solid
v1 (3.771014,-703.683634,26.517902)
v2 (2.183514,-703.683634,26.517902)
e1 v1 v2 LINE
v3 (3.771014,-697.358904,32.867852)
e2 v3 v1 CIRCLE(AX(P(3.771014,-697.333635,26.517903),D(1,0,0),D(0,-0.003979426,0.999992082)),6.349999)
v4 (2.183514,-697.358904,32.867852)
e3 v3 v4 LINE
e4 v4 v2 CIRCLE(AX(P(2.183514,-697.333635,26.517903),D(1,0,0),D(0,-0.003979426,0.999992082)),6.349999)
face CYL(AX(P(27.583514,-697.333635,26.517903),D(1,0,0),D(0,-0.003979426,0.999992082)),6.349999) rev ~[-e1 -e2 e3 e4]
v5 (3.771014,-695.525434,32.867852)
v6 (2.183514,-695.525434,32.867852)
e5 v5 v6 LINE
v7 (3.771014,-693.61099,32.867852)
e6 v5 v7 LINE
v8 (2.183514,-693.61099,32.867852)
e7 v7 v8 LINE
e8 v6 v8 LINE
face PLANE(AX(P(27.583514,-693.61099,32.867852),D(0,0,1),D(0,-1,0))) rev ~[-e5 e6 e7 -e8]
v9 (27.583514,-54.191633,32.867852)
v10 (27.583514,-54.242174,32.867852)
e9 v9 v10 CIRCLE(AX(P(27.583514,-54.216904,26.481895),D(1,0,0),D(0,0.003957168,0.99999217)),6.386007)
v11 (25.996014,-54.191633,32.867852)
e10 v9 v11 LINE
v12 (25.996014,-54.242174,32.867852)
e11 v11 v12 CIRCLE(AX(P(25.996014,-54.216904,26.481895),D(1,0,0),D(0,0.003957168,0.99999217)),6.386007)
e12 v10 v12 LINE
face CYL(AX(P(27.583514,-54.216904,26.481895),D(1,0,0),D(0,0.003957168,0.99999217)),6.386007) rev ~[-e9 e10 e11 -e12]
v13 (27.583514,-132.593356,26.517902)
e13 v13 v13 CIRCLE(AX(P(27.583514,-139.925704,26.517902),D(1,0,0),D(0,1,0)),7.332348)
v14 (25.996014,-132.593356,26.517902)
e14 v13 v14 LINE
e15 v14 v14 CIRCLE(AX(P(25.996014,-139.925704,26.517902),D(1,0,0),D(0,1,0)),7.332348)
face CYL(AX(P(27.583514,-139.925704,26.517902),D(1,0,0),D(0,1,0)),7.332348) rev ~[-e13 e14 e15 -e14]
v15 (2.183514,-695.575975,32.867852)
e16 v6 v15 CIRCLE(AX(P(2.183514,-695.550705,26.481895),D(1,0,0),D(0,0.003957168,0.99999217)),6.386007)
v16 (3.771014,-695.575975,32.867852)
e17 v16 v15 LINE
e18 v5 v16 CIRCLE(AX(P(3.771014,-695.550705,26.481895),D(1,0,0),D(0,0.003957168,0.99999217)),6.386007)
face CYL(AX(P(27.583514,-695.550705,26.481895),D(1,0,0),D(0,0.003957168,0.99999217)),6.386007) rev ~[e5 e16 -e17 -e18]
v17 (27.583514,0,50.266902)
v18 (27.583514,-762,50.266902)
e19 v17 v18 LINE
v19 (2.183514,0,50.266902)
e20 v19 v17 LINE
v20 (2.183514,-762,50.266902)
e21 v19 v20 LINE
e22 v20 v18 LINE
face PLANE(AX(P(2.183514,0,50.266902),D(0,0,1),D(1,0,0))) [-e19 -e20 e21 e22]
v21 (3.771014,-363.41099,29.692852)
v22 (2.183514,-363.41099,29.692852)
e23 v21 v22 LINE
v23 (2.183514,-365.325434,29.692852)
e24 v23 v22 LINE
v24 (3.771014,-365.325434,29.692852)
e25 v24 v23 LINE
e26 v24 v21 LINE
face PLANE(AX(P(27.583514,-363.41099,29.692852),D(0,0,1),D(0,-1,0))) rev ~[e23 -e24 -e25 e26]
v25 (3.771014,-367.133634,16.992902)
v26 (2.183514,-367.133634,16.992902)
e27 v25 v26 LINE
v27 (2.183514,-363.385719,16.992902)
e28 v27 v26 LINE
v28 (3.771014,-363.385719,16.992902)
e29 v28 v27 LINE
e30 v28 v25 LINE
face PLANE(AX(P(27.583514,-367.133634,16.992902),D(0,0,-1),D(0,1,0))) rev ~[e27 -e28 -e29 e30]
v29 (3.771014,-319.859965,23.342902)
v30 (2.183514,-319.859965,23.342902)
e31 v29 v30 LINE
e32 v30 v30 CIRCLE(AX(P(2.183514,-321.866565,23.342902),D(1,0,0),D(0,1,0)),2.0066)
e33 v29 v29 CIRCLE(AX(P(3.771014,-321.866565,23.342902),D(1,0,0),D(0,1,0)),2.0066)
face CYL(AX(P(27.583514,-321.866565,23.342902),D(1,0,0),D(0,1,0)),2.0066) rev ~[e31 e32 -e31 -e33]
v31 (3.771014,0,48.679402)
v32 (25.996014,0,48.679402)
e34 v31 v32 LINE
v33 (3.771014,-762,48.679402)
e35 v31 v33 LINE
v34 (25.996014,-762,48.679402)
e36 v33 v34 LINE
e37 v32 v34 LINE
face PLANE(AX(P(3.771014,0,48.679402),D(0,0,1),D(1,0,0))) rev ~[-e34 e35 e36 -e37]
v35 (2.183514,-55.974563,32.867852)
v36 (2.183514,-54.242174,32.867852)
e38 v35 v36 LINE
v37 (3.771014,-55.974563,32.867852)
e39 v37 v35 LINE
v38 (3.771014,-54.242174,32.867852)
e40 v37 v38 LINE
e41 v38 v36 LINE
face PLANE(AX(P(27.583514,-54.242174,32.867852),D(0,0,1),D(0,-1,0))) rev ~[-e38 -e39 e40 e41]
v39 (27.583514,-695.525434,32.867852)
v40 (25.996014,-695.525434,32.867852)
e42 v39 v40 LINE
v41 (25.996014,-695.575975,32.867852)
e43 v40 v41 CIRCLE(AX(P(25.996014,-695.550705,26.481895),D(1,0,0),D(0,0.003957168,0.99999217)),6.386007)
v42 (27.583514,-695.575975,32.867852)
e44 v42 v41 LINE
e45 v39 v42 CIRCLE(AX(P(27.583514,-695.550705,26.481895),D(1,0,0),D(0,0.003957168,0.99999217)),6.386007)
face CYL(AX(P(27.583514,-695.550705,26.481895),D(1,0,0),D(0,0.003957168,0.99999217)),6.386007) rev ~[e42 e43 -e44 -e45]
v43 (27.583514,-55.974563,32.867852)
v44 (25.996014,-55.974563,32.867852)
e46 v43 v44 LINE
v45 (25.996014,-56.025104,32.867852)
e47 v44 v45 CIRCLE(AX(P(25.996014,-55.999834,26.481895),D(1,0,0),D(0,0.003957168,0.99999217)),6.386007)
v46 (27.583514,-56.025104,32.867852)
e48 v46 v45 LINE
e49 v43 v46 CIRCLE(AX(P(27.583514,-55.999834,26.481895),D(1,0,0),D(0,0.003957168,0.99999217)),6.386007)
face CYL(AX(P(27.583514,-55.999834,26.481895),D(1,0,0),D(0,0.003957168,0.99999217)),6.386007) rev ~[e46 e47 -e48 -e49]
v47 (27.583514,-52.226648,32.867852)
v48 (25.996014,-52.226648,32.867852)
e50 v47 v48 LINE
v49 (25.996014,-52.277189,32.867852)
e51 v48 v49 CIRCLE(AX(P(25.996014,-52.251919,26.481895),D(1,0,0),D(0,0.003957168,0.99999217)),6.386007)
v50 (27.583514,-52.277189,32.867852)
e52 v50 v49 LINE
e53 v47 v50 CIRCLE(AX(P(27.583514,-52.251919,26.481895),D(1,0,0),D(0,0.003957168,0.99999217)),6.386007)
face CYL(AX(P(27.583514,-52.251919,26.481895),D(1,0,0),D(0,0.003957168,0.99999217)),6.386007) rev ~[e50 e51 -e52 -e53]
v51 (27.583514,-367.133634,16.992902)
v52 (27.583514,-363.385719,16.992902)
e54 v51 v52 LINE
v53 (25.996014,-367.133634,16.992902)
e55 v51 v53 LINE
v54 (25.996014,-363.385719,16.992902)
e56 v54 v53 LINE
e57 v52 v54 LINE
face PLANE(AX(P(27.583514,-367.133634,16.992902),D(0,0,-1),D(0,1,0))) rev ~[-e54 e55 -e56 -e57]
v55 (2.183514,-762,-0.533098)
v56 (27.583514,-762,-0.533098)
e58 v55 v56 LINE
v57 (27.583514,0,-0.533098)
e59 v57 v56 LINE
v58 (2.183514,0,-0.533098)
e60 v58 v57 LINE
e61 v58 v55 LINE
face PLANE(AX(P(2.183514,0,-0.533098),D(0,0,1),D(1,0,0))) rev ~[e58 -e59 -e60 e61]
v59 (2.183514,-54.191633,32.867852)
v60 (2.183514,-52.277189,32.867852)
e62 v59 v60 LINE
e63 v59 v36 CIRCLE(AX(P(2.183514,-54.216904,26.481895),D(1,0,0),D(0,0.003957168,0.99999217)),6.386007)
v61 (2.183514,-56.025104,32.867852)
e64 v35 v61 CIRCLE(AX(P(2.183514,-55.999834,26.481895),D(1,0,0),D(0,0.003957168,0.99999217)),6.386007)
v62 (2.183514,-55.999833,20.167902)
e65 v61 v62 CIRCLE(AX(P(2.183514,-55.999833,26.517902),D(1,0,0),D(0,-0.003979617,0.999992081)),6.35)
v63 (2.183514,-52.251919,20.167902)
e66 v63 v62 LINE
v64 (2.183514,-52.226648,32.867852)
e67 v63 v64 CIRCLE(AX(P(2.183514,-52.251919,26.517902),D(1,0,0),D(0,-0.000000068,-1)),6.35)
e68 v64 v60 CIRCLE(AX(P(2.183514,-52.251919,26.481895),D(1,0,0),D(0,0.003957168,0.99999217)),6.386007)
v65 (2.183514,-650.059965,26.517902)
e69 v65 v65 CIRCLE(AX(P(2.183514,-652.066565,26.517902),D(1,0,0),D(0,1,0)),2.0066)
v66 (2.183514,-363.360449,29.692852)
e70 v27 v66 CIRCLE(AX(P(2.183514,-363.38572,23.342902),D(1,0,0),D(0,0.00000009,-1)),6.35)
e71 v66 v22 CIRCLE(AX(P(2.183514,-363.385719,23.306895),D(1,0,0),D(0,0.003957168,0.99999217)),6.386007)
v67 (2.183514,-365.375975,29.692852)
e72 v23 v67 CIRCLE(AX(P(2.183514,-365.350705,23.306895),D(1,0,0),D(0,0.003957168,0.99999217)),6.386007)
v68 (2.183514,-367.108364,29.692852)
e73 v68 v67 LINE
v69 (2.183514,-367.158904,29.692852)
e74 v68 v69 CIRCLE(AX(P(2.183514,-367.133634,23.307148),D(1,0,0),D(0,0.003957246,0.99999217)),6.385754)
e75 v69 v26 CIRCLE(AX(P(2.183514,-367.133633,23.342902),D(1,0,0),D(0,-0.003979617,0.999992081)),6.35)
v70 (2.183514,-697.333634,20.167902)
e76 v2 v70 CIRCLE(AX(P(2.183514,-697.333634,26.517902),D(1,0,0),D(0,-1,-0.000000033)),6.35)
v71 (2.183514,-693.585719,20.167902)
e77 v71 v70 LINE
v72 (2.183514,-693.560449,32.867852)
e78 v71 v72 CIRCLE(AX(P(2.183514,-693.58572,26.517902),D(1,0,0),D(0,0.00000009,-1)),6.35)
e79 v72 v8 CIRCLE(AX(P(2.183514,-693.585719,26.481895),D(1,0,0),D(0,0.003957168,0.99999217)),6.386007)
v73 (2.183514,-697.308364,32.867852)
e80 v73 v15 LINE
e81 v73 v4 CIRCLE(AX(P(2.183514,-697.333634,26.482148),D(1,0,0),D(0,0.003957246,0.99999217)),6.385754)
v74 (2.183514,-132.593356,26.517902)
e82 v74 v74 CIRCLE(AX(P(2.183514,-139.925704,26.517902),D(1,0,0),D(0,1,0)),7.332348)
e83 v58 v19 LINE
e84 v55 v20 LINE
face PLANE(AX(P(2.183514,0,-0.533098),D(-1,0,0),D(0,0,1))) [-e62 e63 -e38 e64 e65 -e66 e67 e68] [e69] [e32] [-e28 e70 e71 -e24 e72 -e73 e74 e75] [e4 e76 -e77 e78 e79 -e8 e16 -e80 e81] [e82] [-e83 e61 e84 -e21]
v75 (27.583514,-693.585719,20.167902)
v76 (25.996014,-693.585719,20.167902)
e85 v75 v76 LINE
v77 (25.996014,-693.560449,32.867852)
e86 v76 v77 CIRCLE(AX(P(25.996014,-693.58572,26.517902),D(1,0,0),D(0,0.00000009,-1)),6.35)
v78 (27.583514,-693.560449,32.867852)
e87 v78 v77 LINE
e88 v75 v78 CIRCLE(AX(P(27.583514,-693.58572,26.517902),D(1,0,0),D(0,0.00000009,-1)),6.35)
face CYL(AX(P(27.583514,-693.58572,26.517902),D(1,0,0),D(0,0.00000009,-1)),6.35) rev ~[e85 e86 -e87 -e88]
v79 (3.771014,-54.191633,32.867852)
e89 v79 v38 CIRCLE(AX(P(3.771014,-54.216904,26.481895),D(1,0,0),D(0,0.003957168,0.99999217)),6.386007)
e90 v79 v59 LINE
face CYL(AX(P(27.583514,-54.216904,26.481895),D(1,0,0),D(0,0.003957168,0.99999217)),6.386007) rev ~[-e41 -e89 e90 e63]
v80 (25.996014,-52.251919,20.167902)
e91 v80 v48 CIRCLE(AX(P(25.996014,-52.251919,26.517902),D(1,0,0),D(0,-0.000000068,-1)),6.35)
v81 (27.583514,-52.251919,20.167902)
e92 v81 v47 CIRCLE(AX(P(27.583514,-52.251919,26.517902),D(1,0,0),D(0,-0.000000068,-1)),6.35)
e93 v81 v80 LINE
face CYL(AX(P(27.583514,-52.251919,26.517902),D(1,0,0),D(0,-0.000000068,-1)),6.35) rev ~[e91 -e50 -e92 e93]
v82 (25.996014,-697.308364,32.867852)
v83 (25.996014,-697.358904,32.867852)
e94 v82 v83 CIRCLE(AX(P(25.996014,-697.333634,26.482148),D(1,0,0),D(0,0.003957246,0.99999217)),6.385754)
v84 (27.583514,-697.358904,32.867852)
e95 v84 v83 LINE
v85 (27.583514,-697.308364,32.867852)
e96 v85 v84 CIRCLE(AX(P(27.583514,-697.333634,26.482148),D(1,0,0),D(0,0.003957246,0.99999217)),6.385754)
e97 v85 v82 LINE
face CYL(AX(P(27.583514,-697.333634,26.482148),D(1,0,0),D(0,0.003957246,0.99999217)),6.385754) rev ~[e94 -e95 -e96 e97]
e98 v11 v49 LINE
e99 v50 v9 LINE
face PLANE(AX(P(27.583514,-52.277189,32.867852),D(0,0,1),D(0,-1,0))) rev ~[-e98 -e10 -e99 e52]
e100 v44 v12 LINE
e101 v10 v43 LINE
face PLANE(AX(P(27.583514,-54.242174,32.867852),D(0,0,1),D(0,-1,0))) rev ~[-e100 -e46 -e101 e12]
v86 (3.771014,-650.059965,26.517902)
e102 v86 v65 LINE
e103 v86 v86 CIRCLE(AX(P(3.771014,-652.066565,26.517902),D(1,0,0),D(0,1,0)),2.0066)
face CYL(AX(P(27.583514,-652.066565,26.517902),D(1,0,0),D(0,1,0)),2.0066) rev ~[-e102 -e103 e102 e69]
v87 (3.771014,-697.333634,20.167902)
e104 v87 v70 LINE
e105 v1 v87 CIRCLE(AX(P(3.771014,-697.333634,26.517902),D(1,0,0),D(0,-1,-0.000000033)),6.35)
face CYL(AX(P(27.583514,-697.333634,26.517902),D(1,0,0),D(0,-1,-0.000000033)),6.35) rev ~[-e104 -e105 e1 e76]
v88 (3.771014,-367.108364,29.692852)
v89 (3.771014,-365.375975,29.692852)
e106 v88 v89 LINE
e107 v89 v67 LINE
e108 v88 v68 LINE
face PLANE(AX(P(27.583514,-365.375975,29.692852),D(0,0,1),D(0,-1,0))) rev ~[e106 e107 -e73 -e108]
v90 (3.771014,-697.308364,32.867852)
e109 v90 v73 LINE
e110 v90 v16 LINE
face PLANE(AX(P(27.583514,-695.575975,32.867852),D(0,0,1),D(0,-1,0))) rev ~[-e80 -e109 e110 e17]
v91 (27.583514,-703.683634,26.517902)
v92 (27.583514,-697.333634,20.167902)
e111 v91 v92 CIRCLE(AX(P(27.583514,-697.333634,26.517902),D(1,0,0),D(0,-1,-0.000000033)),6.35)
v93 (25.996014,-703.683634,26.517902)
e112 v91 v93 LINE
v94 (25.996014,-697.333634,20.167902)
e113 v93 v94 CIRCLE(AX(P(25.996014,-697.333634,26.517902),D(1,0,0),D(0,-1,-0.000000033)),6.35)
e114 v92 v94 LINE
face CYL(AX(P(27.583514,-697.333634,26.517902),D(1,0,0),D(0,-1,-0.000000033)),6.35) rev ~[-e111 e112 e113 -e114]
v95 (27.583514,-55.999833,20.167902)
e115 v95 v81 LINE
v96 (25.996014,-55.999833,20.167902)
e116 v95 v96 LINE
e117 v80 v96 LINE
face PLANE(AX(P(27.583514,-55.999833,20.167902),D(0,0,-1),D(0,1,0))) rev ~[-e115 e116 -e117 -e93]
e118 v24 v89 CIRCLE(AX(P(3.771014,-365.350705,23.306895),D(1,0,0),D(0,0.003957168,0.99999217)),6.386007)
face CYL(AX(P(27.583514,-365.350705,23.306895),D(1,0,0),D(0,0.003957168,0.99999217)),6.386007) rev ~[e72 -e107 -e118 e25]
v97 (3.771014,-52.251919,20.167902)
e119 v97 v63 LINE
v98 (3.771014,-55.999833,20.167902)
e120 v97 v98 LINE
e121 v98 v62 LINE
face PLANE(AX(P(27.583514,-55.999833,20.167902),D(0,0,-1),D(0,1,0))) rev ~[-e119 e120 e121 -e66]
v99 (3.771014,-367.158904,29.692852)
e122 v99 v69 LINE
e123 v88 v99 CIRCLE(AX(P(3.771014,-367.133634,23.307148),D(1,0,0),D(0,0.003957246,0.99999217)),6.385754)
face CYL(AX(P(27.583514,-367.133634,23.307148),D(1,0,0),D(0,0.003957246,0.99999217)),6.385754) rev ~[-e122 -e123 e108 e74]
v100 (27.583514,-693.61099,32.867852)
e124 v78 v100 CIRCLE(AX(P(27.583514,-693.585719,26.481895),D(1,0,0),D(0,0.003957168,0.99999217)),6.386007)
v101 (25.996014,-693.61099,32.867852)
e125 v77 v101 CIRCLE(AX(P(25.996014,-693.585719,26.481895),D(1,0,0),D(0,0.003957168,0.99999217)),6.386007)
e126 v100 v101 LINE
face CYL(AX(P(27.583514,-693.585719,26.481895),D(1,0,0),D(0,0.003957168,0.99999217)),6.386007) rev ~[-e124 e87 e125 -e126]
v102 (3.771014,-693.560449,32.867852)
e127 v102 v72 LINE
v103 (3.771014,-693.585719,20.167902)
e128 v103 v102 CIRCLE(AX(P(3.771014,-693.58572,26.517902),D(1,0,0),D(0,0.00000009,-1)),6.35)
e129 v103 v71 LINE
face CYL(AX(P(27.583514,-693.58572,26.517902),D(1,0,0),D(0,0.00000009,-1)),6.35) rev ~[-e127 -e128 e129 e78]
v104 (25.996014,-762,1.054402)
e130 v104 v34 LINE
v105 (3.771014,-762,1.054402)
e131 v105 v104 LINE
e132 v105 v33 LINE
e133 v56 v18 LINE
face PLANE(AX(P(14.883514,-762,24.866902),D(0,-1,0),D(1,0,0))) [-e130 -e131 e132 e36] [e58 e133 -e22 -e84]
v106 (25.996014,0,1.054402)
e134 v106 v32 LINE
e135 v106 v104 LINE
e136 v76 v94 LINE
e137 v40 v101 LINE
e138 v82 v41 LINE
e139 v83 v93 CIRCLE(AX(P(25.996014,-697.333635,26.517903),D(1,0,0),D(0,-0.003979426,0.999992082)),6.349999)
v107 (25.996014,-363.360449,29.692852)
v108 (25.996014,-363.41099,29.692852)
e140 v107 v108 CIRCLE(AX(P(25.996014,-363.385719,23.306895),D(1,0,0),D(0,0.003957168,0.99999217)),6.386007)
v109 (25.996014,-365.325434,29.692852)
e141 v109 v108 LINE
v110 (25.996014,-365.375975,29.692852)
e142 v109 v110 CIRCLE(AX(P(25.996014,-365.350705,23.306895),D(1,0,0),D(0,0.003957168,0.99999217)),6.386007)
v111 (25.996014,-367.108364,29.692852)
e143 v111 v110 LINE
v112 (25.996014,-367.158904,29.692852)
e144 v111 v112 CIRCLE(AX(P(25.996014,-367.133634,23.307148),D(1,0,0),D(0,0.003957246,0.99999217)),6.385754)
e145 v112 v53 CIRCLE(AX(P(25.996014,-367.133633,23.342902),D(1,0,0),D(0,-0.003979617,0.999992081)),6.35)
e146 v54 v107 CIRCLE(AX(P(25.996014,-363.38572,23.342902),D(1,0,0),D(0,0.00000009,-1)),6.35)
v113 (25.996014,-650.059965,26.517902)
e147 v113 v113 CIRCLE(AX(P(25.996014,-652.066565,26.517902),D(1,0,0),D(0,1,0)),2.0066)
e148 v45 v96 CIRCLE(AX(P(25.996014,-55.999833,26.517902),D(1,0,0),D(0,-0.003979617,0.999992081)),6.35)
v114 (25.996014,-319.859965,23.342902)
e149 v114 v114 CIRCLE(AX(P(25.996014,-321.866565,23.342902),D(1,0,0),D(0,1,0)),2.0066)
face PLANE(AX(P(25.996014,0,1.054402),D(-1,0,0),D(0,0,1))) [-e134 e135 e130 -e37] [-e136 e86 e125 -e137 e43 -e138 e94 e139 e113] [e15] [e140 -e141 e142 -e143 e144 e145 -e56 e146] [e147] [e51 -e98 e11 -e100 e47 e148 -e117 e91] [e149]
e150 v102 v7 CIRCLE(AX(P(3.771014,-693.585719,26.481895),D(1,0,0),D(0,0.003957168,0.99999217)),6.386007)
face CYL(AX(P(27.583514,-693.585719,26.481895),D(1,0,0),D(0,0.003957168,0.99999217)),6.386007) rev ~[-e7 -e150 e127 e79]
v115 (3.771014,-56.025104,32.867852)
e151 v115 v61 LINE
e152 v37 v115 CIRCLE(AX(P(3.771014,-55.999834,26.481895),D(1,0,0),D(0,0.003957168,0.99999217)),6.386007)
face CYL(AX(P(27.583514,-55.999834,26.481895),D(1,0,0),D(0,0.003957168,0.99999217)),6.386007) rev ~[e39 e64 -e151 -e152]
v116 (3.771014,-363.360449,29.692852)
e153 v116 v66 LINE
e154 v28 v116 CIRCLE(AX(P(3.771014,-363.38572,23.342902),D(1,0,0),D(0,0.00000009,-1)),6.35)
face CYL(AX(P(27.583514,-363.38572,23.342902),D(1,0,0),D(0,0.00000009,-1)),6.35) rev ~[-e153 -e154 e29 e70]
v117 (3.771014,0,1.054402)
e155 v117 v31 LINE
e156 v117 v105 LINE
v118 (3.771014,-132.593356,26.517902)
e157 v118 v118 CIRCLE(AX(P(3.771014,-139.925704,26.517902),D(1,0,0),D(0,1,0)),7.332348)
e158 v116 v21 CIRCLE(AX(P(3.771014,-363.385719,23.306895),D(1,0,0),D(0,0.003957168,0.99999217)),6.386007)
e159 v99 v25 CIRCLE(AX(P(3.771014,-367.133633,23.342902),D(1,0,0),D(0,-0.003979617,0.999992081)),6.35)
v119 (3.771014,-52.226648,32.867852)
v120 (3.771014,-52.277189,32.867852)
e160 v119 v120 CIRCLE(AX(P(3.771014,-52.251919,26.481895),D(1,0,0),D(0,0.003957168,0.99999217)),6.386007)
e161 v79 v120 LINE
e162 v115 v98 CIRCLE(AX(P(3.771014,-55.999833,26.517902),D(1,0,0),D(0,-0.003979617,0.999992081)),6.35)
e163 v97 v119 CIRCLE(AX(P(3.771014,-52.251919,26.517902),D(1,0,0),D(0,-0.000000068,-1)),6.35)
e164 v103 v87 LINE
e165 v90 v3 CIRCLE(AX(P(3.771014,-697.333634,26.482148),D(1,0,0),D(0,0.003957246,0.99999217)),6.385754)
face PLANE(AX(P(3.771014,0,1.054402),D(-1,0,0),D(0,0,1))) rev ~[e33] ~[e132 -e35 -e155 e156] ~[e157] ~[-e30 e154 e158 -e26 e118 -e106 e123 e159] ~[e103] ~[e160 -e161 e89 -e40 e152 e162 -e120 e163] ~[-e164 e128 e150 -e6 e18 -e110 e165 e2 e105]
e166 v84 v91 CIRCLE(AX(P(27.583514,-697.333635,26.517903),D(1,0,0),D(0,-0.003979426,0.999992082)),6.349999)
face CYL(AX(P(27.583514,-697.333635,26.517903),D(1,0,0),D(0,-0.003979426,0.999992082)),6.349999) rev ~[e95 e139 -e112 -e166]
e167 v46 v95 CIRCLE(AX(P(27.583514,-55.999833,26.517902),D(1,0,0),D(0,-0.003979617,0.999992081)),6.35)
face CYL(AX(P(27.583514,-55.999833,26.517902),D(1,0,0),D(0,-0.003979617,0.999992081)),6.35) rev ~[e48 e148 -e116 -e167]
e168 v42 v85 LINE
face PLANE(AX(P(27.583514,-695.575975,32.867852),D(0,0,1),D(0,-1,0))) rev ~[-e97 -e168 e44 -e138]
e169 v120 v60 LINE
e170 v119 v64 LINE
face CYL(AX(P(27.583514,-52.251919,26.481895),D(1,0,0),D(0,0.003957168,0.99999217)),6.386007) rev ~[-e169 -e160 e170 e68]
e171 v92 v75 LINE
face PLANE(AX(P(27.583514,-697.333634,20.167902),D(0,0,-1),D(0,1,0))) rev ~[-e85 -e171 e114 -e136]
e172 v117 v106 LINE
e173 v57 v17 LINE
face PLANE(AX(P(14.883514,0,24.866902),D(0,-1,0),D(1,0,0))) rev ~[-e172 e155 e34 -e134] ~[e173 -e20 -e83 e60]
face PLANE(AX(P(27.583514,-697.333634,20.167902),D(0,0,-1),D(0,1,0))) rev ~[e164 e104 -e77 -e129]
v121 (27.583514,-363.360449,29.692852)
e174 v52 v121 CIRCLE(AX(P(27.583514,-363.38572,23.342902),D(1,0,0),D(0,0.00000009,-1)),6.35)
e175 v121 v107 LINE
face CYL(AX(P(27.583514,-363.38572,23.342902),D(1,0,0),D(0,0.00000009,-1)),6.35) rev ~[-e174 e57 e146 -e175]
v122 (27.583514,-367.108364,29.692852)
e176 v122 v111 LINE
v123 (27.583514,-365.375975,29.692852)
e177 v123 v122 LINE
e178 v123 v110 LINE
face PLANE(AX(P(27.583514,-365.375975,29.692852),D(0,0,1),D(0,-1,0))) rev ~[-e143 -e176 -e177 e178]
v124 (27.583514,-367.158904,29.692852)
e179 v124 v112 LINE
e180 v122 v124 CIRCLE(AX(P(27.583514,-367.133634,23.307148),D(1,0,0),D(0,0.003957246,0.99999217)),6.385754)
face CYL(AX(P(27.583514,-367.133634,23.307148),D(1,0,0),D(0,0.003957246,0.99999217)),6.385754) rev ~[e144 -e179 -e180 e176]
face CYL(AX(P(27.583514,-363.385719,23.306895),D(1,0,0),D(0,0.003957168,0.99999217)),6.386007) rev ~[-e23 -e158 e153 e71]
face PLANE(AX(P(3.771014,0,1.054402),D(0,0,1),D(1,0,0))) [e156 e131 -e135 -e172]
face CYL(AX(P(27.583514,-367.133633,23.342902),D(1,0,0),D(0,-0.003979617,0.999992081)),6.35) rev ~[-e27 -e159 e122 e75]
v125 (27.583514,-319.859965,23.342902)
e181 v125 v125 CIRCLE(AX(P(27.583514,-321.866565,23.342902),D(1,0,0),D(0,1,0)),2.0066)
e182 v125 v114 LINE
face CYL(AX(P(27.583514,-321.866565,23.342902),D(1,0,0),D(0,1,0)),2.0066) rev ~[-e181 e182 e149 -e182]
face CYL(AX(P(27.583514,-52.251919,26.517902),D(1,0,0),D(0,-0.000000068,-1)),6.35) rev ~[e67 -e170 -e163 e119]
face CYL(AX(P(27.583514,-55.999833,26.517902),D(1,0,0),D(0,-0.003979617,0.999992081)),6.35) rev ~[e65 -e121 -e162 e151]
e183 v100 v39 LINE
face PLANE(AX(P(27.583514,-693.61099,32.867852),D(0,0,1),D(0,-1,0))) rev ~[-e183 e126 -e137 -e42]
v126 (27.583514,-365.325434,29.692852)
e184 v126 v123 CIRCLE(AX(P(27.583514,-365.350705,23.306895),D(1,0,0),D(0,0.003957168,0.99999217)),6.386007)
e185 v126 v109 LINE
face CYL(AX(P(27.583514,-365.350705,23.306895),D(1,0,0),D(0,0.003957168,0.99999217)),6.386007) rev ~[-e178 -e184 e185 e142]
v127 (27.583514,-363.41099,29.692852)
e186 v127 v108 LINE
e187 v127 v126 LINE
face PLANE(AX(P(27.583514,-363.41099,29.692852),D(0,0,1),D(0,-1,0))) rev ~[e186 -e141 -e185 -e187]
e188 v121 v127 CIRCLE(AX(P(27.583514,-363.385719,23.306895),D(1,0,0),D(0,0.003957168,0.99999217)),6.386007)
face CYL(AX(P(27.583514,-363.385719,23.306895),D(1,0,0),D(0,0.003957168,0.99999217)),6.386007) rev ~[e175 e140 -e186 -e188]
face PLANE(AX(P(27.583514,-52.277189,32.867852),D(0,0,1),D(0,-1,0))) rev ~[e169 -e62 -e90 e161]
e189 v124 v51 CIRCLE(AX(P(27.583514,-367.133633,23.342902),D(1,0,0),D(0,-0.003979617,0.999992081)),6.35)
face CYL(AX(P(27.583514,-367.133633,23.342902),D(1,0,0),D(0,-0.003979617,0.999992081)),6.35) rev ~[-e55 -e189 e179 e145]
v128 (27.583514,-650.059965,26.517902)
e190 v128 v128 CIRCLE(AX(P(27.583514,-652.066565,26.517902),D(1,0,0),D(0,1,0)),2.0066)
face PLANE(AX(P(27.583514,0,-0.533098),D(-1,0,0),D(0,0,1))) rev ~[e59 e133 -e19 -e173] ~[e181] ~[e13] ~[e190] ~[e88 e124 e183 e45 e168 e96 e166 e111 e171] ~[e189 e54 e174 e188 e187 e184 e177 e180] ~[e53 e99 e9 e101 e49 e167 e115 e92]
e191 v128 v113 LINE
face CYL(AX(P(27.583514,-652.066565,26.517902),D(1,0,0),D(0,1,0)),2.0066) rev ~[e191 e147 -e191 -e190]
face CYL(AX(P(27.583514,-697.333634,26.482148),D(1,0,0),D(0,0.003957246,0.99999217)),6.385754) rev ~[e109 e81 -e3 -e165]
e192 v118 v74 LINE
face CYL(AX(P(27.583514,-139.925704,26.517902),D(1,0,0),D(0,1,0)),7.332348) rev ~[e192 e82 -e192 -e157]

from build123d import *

# Parameters (mm, degrees)
F0_W     = 25.4
F0_H     = 50.8
F0_W_2   = 22.225
F0_H_2   = 47.625
F1_DEPTH = 762
F2_R     = 2.0066
F2_R_2   = 7.332348
F3_DEPTH = 25.401


with BuildPart() as f1:
    # F0 (on Front) → F1 (new body)
    with BuildSketch(Plane.XZ):
        with Locations((14.883514, 24.866902)):
            Rectangle(F0_W, F0_H)
        with Locations((14.883514, 24.866902)):
            Rectangle(F0_W_2, F0_H_2, mode=Mode.SUBTRACT)
    extrude(amount=F1_DEPTH)

    # F2 (on face) → F3 (cut, through all)
    with BuildSketch(Plane.YZ.offset(27.583514)):
        with BuildLine():
            Line((-697.333634, 20.167902), (-693.585719, 20.167902))
            ThreePointArc((-693.585719, 20.167902), (-687.235732, 26.505267), (-693.560449, 32.867852))
            ThreePointArc((-693.560449, 32.867852), (-693.585719, 32.867902), (-693.61099, 32.867852))
            Line((-693.61099, 32.867852), (-695.525434, 32.867852))
            ThreePointArc((-695.525434, 32.867852), (-695.550704, 32.867902), (-695.575975, 32.867852))
            Line((-695.575975, 32.867852), (-697.308364, 32.867852))
            ThreePointArc((-697.308364, 32.867852), (-697.333634, 32.867902), (-697.358904, 32.867852))
            ThreePointArc((-697.358904, 32.867852), (-701.832688, 30.999087), (-703.683634, 26.517902))
            ThreePointArc((-703.683634, 26.517902), (-701.823762, 22.027774), (-697.333634, 20.167902))
        make_face()
        with BuildLine():
            Line((-367.133634, 16.992902), (-363.385719, 16.992902))
            ThreePointArc((-363.385719, 16.992902), (-357.035732, 23.330267), (-363.360449, 29.692852))
            ThreePointArc((-363.360449, 29.692852), (-363.385719, 29.692902), (-363.41099, 29.692852))
            Line((-363.41099, 29.692852), (-365.325434, 29.692852))
            ThreePointArc((-365.325434, 29.692852), (-365.350704, 29.692902), (-365.375975, 29.692852))
            Line((-365.375975, 29.692852), (-367.108364, 29.692852))
            ThreePointArc((-367.108364, 29.692852), (-367.133634, 29.692902), (-367.158904, 29.692852))
            ThreePointArc((-367.158904, 29.692852), (-373.483621, 23.330267), (-367.133634, 16.992902))
        make_face()
        with BuildLine():
            Line((-55.999833, 20.167902), (-52.251919, 20.167902))
            ThreePointArc((-52.251919, 20.167902), (-45.901931, 26.505267), (-52.226648, 32.867852))
            ThreePointArc((-52.226648, 32.867852), (-52.251919, 32.867902), (-52.277189, 32.867852))
            Line((-52.277189, 32.867852), (-54.191633, 32.867852))
            ThreePointArc((-54.191633, 32.867852), (-54.216904, 32.867902), (-54.242174, 32.867852))
            Line((-54.242174, 32.867852), (-55.974563, 32.867852))
            ThreePointArc((-55.974563, 32.867852), (-55.999833, 32.867902), (-56.025104, 32.867852))
            ThreePointArc((-56.025104, 32.867852), (-62.349821, 26.505267), (-55.999833, 20.167902))
        make_face()
        with Locations((-321.866565, 23.342902)):
            Circle(F2_R)
        with Locations((-652.066565, 26.517902)):
            Circle(F2_R)
        with Locations((-139.925704, 26.517902)):
            Circle(F2_R_2)
    extrude(amount=-F3_DEPTH, mode=Mode.SUBTRACT)


solid = f1.part
